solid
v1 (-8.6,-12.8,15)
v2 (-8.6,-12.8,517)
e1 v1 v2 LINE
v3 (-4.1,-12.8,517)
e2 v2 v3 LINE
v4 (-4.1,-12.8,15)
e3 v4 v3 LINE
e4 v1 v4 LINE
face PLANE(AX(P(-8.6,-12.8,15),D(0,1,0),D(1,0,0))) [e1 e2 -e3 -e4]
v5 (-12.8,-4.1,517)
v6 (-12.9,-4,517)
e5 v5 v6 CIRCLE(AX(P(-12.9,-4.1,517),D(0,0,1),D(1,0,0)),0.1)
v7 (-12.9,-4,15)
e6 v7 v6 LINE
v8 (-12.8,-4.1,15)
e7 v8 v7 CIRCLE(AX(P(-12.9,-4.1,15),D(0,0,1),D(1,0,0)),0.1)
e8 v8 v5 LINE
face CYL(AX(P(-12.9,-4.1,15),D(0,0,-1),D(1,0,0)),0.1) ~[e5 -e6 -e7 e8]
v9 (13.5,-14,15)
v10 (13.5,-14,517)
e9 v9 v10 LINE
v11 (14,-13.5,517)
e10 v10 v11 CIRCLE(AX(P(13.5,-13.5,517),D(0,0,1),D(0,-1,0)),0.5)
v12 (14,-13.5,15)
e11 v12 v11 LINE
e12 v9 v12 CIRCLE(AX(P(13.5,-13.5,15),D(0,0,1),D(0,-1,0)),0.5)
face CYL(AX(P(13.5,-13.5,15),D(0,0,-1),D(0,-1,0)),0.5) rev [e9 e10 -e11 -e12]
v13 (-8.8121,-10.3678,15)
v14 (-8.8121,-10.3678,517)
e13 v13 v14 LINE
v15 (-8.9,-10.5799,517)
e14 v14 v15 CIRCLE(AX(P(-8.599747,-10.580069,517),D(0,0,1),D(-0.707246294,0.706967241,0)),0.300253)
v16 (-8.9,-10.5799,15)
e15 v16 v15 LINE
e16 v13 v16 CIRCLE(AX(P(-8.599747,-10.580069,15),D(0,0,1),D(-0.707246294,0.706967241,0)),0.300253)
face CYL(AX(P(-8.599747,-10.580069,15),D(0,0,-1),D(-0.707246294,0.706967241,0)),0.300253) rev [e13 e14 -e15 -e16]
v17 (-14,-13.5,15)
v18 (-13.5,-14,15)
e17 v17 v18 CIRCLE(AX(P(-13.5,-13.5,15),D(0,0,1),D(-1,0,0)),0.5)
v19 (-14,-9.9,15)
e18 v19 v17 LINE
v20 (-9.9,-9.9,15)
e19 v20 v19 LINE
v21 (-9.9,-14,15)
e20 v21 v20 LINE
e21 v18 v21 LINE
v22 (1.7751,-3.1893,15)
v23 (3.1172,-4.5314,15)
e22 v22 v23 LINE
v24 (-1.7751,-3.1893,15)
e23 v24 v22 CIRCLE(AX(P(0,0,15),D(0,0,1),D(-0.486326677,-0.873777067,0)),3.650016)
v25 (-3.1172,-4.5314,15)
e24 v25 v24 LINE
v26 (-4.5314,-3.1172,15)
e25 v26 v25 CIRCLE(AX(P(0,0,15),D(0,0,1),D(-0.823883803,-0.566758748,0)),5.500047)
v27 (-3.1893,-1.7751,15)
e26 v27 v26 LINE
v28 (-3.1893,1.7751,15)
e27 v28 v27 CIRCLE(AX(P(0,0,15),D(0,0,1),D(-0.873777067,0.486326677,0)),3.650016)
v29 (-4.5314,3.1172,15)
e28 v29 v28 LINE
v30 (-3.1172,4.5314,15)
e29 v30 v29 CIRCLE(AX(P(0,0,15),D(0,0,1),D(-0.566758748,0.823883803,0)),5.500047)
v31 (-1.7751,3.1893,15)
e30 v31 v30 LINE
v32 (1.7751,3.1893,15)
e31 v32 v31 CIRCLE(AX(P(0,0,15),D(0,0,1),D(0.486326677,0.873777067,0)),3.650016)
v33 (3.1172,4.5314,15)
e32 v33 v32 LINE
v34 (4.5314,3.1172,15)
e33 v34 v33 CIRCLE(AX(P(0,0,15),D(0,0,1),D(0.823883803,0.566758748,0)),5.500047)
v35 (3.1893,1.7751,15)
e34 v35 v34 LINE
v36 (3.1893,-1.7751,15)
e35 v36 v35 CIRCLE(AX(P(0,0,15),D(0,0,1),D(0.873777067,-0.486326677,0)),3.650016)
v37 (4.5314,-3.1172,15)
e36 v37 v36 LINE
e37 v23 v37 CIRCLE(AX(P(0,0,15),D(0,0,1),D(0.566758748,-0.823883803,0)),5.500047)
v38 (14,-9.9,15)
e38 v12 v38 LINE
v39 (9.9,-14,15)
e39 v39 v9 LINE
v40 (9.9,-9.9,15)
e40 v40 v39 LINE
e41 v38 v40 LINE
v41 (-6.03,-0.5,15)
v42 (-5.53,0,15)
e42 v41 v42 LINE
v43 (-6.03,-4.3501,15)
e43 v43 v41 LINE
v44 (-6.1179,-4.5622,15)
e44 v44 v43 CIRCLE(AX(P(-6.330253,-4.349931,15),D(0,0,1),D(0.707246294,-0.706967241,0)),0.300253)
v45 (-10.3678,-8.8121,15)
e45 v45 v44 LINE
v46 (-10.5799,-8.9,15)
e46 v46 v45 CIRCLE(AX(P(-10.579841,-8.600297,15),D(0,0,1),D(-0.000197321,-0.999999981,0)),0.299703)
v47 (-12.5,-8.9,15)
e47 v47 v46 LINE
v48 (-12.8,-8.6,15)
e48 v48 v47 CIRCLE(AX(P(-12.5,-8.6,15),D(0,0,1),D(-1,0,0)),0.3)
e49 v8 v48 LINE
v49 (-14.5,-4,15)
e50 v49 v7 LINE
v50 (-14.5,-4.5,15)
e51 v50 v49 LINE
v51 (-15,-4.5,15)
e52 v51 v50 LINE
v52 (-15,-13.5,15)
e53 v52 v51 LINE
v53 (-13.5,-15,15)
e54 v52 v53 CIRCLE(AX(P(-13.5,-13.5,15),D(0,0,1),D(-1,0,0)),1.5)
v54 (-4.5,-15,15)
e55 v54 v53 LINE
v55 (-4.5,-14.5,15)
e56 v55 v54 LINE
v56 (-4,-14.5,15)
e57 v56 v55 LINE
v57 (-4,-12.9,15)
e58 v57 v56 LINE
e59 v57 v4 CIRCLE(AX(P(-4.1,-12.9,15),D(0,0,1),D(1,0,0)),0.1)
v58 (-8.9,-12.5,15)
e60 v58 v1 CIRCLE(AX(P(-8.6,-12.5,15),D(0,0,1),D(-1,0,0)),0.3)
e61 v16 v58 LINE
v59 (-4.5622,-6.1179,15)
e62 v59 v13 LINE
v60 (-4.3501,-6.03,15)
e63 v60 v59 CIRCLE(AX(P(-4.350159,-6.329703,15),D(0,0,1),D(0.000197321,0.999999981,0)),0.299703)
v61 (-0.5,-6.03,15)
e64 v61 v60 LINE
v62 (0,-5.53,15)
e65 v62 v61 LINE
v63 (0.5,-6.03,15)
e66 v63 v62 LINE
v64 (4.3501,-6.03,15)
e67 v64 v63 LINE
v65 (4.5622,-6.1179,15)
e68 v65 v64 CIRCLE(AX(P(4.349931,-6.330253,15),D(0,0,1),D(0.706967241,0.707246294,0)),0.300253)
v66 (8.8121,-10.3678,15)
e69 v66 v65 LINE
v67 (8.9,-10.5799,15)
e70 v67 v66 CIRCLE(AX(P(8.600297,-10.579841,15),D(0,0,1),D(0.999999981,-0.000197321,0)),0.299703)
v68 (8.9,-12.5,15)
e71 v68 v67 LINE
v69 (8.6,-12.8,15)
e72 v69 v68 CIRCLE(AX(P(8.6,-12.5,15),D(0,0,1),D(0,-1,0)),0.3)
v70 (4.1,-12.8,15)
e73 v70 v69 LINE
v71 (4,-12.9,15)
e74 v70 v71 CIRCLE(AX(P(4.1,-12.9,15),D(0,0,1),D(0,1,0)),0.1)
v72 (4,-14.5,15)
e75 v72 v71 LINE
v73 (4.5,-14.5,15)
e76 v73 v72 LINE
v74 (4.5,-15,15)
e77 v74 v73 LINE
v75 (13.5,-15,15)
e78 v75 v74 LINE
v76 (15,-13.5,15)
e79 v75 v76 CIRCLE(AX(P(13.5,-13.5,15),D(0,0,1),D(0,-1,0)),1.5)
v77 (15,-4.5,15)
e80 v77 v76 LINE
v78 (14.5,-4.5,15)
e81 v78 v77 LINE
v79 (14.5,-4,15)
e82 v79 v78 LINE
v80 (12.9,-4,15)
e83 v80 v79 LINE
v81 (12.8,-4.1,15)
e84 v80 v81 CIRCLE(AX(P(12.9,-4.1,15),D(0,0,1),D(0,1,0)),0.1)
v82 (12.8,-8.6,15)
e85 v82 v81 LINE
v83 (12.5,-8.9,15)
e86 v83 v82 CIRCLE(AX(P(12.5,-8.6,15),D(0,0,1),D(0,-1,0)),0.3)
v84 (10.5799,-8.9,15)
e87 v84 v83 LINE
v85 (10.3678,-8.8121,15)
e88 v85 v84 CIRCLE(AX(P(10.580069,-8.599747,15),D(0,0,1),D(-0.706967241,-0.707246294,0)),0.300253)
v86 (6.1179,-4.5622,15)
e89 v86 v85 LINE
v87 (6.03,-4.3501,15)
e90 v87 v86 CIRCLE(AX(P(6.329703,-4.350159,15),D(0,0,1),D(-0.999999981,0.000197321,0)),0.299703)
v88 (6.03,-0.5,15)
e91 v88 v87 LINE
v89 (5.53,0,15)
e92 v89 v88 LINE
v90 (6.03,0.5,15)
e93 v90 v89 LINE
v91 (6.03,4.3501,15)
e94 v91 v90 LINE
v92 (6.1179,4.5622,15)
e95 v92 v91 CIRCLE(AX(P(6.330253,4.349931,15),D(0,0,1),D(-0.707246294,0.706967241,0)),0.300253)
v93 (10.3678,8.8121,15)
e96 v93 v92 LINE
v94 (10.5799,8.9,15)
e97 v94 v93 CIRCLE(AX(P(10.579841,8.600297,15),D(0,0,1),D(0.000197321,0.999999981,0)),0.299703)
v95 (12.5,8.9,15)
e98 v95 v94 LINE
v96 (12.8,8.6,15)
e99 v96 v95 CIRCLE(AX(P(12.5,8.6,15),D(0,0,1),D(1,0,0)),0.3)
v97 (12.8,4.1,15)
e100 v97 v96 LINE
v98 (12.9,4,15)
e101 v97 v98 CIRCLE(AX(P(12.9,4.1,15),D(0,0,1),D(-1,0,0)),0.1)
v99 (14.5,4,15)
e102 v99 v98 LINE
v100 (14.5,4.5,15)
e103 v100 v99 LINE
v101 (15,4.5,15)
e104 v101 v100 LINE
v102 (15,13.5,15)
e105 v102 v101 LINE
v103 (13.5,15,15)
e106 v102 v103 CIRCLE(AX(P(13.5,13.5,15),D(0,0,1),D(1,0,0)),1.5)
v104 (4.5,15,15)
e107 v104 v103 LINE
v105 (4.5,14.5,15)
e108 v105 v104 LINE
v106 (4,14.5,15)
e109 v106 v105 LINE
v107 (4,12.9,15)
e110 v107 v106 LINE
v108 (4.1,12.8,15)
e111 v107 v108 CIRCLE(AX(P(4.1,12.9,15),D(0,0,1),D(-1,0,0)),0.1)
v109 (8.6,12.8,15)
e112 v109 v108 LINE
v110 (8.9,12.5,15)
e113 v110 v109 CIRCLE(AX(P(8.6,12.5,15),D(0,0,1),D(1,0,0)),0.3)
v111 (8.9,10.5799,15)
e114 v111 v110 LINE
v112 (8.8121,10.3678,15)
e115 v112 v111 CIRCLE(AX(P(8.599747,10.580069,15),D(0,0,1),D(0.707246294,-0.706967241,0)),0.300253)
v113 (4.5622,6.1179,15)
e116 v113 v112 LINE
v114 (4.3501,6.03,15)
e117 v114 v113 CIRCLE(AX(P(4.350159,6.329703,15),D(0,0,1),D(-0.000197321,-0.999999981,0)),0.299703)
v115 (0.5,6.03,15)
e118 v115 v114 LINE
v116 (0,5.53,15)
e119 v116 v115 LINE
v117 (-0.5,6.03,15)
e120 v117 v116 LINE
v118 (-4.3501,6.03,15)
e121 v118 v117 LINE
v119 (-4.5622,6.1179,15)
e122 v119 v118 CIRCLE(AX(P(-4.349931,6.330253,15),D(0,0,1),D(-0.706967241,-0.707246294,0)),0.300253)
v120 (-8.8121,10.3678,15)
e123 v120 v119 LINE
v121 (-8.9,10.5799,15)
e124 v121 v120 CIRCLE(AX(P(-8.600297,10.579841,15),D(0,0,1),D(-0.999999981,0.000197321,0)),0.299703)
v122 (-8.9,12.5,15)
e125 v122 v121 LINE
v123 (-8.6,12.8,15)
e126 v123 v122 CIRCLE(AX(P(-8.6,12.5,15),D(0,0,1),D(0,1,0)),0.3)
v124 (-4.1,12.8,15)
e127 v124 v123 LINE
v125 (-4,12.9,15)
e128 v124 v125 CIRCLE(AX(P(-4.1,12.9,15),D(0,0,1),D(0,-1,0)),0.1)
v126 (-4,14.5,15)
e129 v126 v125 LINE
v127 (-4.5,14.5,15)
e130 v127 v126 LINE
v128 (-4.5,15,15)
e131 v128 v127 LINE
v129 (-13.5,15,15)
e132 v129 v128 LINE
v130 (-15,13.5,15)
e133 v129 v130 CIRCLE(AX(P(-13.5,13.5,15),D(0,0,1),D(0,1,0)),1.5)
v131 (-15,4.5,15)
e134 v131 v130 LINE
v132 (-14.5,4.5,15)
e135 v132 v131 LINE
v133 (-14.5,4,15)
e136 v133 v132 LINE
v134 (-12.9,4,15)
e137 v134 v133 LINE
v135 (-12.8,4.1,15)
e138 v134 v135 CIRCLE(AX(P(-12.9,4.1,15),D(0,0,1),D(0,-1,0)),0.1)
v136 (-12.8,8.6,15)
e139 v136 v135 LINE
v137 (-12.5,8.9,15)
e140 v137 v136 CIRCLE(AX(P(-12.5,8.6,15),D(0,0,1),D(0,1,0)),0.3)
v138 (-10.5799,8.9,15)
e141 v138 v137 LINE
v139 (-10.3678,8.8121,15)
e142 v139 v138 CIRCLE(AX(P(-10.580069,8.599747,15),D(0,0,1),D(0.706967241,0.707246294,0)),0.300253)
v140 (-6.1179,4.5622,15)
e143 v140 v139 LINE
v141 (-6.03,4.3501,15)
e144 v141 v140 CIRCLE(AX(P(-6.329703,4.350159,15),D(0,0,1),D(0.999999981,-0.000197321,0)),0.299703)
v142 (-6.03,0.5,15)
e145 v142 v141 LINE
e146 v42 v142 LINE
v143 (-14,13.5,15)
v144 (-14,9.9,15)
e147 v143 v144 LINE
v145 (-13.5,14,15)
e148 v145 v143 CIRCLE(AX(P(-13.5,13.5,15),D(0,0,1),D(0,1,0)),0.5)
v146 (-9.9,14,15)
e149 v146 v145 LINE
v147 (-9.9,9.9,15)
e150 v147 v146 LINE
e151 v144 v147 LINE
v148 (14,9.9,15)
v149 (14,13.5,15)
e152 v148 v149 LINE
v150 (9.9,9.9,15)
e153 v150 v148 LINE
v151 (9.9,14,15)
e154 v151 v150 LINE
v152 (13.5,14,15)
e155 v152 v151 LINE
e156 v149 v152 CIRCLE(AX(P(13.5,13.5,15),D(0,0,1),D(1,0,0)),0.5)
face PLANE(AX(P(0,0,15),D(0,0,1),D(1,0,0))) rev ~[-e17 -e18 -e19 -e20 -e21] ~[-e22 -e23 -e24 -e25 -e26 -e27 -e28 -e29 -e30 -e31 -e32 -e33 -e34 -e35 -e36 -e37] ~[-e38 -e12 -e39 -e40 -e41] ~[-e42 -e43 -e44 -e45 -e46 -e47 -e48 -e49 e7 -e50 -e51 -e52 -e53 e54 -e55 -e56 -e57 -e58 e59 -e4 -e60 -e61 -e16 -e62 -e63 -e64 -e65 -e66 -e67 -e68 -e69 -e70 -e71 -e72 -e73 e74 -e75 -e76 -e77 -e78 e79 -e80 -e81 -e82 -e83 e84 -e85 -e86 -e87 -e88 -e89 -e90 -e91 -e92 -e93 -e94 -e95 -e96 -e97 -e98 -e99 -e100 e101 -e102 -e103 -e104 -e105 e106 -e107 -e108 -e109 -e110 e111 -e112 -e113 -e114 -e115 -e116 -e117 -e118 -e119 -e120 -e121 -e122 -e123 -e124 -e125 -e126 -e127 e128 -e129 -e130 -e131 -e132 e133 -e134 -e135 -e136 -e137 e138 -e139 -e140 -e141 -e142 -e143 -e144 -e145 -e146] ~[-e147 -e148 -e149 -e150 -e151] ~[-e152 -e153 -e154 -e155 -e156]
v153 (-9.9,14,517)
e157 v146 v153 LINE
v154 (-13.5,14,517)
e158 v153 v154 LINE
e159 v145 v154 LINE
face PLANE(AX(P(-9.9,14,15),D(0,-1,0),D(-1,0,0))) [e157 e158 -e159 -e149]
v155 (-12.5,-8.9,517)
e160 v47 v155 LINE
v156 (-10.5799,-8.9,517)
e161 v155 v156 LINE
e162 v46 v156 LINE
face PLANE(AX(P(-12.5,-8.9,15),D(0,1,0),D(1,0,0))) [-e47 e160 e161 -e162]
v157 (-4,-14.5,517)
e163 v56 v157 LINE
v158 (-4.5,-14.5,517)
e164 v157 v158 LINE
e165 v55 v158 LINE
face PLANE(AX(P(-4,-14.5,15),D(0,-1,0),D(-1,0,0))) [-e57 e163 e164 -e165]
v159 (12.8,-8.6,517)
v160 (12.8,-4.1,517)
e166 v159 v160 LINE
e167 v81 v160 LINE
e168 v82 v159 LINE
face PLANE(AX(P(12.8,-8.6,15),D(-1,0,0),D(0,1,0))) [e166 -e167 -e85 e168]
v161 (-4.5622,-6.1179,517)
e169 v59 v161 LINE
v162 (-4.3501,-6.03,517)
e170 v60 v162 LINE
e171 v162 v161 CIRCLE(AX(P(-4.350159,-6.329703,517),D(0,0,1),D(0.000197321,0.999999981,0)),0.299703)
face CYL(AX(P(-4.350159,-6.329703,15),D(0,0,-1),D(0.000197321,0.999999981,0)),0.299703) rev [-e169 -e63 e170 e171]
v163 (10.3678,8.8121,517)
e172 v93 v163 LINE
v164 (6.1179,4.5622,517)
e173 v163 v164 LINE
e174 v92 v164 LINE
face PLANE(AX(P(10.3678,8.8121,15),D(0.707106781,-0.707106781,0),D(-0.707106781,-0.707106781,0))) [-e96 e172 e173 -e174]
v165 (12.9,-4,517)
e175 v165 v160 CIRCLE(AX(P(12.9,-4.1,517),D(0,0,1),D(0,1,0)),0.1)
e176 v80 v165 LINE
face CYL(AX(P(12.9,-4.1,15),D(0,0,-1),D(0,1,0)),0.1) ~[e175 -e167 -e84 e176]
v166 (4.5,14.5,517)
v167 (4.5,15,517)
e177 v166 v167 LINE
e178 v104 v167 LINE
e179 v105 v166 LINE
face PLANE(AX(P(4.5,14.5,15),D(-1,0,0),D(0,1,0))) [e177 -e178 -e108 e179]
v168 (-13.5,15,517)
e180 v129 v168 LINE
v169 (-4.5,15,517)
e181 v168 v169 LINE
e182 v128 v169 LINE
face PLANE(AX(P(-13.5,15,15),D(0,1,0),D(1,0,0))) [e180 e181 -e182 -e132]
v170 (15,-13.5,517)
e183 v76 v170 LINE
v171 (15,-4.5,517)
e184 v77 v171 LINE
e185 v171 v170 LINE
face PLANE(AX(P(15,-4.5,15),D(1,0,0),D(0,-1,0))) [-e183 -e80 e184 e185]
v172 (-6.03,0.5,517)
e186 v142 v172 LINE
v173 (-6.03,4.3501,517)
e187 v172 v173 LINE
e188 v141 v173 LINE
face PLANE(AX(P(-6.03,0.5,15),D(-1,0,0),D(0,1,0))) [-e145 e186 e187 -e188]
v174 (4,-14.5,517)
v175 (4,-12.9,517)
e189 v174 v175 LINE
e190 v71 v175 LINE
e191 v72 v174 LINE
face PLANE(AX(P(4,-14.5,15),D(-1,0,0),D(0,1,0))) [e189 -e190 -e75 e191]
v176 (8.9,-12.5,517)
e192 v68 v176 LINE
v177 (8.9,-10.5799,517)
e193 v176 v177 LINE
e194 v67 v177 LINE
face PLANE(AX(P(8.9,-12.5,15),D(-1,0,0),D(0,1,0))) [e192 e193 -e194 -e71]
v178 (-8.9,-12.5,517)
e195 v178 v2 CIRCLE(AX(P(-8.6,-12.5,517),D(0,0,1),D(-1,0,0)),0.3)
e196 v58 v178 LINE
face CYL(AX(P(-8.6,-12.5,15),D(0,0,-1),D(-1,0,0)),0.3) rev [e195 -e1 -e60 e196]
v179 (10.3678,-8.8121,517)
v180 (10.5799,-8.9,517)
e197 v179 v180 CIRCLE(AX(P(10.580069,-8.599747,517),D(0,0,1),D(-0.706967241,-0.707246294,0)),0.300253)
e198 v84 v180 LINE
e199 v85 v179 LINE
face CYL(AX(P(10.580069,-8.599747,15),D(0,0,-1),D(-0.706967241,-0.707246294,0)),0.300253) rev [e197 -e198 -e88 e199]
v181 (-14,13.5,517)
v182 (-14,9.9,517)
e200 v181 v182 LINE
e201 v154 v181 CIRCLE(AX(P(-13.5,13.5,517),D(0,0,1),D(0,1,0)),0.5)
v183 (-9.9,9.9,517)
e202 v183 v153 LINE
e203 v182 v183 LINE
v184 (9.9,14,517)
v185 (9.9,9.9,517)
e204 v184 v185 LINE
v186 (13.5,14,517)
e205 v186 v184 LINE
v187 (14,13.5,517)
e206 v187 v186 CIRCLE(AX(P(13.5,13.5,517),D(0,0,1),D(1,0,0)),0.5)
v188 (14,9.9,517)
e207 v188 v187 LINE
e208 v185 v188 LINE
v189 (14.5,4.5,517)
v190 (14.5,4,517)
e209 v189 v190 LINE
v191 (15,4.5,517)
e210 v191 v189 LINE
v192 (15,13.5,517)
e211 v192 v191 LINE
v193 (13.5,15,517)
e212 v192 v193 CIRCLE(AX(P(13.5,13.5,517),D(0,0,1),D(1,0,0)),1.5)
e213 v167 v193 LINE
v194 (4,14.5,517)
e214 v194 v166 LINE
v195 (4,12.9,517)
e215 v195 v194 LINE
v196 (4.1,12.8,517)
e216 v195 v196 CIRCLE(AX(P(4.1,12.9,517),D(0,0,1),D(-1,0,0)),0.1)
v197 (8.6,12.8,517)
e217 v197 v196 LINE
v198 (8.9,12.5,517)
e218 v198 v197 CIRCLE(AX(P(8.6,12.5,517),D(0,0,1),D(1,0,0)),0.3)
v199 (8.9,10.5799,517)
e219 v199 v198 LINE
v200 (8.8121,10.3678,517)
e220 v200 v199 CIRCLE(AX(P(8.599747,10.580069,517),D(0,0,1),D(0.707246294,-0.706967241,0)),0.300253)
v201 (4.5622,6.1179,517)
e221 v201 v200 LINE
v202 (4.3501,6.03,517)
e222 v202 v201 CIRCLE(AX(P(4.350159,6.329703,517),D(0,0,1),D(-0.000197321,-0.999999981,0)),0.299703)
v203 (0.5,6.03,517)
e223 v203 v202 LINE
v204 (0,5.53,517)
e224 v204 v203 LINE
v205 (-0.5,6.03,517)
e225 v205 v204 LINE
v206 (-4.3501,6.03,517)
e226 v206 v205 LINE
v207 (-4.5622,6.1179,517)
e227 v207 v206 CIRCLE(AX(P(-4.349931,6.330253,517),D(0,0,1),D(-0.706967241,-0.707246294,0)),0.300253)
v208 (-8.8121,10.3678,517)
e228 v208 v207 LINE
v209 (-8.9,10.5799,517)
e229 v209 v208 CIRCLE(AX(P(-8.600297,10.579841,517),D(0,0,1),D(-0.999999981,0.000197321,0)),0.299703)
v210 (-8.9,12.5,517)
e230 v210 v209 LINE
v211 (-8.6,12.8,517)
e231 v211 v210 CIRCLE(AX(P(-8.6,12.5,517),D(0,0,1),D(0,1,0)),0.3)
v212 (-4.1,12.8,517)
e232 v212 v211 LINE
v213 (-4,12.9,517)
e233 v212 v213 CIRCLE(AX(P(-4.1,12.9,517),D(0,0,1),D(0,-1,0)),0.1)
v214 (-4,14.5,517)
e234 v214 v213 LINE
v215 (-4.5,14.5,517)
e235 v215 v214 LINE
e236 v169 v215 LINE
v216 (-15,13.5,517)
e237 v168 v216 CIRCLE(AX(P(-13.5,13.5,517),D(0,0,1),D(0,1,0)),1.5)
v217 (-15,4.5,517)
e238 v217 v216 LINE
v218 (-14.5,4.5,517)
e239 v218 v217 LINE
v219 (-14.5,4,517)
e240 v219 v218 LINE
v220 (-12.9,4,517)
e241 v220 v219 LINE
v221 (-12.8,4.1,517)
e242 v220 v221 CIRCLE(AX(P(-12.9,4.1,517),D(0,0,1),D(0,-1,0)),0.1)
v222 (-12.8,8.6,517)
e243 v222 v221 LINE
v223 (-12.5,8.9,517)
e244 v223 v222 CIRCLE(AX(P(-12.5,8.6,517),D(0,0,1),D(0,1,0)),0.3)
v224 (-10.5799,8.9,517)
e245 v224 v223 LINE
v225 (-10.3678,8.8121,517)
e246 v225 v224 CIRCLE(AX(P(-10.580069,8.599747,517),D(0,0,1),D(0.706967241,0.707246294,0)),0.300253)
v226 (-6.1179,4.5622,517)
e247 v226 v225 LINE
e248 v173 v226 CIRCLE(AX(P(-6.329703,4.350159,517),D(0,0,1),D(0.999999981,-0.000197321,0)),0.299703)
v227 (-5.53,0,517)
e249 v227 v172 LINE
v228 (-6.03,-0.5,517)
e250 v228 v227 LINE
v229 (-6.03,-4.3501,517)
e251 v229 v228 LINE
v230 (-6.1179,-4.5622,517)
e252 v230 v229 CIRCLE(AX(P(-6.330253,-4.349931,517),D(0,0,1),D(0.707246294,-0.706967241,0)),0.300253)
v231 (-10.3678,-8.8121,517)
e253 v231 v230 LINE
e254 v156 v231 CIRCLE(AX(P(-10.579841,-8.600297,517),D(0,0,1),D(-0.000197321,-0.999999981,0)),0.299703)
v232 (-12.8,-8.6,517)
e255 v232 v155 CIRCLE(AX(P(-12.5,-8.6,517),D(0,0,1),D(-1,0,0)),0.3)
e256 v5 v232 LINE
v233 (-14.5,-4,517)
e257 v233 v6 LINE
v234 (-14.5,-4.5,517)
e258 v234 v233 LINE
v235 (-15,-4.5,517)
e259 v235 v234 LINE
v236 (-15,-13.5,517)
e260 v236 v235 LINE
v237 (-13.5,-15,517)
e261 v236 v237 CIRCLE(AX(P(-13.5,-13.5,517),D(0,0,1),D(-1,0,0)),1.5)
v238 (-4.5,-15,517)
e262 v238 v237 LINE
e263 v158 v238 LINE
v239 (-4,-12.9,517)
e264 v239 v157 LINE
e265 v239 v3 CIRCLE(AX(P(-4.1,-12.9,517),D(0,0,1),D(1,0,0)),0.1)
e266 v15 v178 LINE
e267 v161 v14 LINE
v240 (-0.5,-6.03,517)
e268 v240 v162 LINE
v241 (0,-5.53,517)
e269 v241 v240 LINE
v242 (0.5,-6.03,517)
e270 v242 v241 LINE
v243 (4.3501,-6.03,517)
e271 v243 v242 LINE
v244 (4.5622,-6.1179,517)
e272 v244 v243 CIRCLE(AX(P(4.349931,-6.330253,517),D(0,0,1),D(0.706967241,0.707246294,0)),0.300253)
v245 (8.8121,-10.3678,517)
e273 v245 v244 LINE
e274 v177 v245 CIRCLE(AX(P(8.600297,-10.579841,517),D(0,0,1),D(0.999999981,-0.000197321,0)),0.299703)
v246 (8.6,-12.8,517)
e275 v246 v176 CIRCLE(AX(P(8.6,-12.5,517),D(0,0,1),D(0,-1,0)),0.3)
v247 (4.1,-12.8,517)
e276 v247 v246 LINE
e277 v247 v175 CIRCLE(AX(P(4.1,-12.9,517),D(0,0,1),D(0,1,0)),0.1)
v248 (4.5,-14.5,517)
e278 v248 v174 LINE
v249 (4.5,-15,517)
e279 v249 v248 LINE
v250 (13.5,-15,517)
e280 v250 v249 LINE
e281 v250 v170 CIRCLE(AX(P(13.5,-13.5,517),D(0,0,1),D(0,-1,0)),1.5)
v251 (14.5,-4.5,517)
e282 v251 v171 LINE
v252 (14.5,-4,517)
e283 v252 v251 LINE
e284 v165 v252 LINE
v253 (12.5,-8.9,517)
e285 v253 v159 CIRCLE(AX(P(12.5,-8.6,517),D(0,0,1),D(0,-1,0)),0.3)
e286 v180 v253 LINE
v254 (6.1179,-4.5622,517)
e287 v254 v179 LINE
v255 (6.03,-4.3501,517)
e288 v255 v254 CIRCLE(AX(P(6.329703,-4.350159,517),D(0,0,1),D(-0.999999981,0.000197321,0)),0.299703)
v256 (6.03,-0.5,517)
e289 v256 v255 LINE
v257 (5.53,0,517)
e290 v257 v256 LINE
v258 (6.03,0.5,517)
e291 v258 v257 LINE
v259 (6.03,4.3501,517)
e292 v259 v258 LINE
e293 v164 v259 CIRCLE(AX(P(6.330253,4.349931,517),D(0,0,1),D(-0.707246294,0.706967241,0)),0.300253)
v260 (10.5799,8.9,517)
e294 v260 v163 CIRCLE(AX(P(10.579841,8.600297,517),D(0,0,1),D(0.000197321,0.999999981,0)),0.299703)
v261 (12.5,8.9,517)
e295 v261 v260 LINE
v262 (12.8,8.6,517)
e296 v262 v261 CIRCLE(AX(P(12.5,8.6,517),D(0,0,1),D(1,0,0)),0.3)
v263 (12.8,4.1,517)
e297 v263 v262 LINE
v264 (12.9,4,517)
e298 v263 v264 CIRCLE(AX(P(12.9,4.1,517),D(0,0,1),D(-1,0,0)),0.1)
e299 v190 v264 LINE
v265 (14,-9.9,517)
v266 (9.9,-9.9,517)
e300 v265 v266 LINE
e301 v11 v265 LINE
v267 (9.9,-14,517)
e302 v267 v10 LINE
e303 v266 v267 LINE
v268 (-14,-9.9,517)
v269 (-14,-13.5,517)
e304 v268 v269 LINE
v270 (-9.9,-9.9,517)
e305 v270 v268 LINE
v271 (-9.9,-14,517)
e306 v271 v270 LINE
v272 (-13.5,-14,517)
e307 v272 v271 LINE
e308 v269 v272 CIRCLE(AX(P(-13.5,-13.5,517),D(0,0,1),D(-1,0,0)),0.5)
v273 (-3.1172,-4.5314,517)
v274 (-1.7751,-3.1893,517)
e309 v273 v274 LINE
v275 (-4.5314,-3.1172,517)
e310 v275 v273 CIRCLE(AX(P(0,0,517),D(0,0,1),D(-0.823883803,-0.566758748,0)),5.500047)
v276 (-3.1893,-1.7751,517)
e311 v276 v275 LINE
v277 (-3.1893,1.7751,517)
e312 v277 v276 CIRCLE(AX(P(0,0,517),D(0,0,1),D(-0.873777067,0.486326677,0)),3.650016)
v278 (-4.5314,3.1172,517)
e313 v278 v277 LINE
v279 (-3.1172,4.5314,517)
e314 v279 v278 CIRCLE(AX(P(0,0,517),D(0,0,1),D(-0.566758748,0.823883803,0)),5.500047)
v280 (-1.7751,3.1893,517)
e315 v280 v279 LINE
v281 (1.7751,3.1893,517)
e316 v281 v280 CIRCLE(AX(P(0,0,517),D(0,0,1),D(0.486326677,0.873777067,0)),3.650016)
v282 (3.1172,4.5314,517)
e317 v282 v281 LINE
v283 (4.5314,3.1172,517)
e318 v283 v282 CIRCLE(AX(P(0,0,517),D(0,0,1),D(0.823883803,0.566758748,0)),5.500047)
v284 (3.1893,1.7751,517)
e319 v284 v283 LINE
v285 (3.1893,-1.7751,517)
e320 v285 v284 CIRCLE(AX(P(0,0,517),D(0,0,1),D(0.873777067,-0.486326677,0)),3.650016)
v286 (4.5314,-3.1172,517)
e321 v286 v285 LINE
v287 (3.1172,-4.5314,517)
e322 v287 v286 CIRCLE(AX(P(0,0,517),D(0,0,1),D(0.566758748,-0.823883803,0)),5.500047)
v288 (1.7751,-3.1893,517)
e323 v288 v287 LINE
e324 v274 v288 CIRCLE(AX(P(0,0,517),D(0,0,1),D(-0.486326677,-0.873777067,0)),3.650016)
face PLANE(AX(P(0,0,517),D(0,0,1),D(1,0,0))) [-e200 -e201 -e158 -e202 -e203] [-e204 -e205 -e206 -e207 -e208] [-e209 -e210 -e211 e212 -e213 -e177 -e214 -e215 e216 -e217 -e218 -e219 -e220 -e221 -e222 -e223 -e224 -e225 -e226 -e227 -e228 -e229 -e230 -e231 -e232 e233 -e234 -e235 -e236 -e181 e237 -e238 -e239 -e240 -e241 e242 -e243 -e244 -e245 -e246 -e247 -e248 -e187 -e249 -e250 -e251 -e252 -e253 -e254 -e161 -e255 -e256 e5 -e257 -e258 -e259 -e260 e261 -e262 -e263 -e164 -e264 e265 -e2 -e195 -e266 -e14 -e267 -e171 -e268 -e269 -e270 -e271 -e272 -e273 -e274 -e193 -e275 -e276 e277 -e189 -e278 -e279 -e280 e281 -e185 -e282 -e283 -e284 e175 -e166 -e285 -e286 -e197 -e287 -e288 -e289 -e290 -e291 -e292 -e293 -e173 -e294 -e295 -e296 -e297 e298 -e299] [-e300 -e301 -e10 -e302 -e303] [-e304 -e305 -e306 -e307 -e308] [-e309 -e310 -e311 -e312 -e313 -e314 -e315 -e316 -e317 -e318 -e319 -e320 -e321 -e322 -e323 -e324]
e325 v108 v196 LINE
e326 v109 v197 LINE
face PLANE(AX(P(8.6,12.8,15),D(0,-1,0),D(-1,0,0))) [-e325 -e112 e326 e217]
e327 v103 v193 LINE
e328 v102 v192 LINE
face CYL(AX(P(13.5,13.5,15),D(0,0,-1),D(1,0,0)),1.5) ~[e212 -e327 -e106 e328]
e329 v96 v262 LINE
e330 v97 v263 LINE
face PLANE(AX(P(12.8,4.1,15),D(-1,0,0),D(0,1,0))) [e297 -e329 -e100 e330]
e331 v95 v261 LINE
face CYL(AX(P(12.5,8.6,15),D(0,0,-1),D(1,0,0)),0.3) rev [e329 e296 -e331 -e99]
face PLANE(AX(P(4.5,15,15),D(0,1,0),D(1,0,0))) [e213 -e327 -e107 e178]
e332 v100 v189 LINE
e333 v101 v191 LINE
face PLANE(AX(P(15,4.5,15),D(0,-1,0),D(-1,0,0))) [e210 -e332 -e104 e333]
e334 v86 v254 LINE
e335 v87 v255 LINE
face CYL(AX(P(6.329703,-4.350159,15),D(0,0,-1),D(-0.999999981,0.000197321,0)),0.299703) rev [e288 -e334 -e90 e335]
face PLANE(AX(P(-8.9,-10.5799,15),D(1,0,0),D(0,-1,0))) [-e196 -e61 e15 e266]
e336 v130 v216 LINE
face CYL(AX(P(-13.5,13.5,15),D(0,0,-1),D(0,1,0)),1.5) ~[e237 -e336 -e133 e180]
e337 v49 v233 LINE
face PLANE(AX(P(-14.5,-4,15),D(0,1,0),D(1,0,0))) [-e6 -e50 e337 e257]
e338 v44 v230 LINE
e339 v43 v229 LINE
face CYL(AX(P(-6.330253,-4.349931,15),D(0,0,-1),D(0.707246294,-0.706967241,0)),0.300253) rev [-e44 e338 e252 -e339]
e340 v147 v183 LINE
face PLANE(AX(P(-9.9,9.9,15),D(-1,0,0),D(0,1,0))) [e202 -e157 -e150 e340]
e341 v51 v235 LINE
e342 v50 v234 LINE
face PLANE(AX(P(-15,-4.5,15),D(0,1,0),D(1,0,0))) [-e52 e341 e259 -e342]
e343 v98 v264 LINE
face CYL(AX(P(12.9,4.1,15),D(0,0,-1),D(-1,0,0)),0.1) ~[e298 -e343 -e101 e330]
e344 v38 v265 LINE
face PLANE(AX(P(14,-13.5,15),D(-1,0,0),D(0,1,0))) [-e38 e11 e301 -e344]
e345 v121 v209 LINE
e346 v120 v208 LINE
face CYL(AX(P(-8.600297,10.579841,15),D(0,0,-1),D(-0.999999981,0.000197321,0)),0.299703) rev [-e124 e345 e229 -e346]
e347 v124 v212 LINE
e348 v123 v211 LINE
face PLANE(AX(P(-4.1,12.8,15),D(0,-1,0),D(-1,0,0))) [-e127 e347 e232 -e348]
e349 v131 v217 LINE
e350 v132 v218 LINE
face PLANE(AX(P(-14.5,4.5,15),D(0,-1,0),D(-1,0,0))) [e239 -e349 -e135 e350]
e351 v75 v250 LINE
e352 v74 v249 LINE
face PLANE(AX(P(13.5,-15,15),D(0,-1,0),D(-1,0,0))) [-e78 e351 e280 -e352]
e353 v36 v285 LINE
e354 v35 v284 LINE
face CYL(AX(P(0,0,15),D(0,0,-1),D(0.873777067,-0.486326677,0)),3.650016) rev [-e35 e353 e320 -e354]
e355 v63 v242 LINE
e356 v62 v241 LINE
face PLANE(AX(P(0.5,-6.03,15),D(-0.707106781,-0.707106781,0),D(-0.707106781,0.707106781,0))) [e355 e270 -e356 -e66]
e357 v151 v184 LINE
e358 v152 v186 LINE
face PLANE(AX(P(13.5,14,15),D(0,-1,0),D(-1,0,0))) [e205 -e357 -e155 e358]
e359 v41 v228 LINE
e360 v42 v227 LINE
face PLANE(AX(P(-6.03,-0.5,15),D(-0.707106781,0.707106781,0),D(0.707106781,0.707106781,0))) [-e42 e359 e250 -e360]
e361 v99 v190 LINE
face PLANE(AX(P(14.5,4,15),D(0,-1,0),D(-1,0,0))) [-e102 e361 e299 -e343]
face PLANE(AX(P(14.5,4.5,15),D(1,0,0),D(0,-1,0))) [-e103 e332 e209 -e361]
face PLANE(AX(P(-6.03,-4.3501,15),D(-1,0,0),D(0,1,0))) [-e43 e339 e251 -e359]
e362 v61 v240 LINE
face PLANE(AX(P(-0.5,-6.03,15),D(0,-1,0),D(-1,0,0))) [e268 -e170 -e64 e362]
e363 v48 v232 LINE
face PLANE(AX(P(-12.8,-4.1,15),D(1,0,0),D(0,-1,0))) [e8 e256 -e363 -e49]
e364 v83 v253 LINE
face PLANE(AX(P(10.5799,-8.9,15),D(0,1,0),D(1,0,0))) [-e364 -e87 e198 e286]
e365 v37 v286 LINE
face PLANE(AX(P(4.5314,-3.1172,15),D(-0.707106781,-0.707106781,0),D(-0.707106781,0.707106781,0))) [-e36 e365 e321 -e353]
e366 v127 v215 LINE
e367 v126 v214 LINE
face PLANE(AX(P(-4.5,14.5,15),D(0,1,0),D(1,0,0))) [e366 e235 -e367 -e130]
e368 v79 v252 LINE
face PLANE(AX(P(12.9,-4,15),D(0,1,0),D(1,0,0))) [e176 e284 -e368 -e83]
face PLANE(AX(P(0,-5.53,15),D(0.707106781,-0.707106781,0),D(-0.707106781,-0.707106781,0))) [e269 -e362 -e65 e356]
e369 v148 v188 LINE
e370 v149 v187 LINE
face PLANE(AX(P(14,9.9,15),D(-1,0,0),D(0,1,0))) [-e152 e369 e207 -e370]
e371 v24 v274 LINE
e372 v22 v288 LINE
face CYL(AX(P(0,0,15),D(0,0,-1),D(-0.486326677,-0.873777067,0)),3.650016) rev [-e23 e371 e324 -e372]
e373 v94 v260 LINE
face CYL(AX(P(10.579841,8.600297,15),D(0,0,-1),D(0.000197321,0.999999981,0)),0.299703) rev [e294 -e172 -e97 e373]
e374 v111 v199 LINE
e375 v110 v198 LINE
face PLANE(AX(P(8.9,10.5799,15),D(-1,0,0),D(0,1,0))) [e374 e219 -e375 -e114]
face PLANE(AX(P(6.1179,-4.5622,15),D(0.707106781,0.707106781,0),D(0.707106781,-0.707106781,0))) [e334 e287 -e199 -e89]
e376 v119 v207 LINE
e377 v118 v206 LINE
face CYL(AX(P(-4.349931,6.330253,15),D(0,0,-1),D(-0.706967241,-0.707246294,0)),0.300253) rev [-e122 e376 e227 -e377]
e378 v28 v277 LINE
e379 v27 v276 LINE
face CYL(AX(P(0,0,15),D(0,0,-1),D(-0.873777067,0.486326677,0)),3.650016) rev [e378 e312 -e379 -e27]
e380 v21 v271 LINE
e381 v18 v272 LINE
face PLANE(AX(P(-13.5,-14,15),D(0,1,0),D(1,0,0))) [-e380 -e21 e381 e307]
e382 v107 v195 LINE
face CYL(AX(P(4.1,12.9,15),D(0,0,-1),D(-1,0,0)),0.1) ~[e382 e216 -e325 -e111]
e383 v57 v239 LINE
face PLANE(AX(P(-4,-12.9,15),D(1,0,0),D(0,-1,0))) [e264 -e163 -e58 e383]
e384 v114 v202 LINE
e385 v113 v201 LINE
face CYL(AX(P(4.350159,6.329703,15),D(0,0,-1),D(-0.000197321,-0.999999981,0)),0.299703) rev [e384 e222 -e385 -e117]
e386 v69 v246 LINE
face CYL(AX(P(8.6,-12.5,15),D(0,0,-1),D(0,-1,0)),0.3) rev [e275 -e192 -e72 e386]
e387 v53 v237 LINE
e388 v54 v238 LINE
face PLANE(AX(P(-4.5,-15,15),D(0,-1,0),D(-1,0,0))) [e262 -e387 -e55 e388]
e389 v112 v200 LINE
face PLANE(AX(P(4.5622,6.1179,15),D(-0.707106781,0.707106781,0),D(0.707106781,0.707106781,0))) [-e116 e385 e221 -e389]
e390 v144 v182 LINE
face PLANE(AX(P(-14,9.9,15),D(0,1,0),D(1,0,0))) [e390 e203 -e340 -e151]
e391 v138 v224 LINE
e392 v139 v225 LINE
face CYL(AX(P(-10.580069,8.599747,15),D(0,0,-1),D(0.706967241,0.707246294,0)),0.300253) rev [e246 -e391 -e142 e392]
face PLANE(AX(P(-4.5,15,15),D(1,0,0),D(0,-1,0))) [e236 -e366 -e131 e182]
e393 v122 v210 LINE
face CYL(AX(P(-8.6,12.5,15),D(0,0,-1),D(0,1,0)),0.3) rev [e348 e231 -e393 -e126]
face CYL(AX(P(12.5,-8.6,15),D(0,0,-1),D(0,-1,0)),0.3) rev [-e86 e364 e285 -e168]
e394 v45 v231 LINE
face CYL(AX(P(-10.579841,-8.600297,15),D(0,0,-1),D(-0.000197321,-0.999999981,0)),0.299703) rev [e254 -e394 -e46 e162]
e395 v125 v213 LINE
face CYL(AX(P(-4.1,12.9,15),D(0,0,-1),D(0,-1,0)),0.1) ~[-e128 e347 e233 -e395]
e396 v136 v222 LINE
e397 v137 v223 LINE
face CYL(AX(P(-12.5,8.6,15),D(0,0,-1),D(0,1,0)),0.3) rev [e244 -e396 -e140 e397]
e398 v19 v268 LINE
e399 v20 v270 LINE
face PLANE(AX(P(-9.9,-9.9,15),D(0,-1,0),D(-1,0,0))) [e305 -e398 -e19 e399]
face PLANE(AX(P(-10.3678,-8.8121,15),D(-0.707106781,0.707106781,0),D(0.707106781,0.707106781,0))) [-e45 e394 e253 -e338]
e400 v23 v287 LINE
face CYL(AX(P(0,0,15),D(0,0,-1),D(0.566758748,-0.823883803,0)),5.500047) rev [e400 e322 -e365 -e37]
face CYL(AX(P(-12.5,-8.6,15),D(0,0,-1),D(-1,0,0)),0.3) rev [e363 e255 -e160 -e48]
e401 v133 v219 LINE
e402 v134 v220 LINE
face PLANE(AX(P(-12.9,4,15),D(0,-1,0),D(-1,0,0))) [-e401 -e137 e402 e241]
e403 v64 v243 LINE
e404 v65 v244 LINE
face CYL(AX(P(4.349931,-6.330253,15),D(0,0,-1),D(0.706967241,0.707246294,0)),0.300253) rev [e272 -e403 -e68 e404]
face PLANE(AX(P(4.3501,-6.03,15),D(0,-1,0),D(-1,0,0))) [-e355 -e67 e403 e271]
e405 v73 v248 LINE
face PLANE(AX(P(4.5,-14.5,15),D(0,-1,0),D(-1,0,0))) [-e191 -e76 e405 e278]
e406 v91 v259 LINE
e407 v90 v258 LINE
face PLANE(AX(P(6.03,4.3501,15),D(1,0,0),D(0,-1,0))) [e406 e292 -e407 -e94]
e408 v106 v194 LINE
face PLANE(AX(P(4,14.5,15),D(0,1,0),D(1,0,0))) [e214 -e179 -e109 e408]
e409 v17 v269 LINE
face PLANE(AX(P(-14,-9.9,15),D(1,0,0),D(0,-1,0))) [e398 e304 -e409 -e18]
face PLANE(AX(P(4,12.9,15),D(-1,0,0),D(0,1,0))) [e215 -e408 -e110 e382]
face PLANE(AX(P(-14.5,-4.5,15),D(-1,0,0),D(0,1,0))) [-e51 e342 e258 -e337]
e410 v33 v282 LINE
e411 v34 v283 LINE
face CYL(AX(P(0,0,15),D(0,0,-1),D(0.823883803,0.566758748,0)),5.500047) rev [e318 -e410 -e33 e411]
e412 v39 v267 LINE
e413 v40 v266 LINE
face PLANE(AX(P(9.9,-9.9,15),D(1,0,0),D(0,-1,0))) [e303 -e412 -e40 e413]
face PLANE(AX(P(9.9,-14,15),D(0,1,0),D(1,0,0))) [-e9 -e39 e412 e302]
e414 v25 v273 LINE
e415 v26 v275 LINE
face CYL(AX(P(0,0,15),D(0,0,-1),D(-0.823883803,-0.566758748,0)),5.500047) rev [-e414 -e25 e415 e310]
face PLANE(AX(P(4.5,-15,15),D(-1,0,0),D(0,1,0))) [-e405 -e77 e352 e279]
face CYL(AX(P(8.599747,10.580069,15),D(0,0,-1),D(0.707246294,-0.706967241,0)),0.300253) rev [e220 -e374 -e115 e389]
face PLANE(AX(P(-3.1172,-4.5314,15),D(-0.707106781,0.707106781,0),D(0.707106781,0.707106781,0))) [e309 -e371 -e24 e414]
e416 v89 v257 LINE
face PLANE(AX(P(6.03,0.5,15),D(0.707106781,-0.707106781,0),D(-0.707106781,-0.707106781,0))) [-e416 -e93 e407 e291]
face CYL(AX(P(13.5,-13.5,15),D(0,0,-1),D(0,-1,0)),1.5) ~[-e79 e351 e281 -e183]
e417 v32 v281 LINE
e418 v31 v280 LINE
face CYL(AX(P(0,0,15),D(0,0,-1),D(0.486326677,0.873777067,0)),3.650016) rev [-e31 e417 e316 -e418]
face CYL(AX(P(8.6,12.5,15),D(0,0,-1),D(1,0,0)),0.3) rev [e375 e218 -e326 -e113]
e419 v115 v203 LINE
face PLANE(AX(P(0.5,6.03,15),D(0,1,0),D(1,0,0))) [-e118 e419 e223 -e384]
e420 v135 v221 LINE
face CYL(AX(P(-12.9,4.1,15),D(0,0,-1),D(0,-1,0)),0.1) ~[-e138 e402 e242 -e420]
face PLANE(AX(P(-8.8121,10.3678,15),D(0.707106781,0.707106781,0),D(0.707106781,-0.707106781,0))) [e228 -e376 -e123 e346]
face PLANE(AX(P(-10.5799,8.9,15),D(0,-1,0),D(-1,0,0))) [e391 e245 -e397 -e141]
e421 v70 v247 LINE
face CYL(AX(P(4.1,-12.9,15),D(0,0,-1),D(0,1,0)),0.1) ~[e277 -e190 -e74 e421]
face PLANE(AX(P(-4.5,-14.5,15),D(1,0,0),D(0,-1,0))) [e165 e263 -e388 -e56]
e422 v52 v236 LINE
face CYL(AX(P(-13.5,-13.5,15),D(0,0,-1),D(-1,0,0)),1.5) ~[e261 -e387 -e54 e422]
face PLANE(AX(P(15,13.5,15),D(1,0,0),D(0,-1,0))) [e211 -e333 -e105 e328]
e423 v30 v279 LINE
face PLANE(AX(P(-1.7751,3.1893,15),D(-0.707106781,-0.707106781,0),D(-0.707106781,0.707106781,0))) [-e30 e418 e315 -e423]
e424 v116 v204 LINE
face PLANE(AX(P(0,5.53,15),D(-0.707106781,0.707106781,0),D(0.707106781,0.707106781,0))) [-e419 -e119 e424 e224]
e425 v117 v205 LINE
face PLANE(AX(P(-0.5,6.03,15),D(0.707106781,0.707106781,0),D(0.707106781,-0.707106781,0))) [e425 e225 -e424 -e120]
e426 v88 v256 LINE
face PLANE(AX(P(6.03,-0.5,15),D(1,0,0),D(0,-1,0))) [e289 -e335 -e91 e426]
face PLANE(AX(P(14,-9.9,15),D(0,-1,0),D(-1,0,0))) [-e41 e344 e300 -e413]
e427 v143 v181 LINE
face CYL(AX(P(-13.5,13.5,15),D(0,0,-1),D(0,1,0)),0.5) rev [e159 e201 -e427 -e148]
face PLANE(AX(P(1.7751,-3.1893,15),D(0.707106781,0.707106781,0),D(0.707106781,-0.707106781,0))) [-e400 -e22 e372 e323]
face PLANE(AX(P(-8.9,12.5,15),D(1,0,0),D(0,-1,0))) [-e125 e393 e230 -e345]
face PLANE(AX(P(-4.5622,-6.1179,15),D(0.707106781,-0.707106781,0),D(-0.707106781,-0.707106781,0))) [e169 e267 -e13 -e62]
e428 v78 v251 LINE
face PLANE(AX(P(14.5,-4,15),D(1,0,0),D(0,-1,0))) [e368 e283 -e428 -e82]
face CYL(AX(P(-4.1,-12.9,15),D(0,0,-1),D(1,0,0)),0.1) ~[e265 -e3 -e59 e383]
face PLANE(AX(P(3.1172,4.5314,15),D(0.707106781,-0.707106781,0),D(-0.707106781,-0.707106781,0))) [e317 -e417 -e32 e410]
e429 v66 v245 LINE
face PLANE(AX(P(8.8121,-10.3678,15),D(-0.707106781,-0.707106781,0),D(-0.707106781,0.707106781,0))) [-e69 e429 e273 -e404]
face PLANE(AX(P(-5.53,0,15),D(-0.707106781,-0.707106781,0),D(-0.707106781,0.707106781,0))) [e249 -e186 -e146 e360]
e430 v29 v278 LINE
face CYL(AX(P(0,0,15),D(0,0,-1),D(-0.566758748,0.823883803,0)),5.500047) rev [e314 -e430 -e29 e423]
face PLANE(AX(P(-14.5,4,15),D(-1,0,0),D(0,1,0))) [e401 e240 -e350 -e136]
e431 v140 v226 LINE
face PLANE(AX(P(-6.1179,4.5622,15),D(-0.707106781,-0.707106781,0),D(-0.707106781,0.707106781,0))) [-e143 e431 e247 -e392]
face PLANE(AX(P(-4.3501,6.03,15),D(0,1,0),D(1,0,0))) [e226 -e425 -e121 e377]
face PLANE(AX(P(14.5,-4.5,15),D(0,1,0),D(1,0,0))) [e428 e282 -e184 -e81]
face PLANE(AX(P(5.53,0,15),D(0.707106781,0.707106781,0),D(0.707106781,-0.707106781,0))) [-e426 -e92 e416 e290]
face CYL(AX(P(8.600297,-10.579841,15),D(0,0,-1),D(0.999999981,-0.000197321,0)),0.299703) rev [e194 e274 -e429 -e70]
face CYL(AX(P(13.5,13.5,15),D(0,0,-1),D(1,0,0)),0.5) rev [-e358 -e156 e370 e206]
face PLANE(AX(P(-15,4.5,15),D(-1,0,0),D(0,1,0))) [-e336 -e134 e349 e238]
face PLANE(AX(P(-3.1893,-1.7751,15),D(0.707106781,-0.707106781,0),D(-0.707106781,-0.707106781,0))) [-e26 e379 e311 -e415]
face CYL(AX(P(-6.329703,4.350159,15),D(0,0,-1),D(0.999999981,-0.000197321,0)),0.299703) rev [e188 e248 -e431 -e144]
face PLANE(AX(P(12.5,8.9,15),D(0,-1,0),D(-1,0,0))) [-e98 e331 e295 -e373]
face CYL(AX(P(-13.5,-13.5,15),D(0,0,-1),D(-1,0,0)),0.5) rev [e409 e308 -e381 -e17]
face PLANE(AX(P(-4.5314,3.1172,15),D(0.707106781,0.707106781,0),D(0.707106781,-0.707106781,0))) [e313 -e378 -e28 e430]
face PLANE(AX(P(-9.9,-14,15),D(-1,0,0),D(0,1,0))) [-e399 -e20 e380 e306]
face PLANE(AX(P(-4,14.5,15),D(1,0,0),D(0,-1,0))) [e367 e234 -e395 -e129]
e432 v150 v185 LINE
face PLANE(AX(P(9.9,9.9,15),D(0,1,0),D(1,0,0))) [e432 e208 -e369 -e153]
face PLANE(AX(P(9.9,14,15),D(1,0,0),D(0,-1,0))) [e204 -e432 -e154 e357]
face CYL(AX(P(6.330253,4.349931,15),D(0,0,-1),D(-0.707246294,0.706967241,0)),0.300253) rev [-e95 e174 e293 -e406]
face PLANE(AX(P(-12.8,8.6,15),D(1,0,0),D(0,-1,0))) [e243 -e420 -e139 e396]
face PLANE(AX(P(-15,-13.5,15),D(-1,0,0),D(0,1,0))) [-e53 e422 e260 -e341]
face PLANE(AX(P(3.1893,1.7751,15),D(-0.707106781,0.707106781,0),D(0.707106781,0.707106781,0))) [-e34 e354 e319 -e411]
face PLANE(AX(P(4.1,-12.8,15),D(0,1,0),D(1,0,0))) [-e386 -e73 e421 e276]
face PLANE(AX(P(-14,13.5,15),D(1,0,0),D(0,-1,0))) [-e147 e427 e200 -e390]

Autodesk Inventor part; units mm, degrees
ref_plane "Płaszczyzna początkowa" through (0, 0, 15) normal (0, 0, 1) x (1, 0, 0)
ref_plane "Płaszczyzna końcowa" through (0, 0, 517) normal (0, 0, 1) x (1, 0, 0)
sketch "Szkic" plane through (0, 0, 0) normal (0, 0, 1) x (1, 0, 0)
  line L0 (1.7751, -3.1893) -> (3.1172, -4.5314)
  arc A0 (-1.7751, -3.1893) -> (1.7751, -3.1893) centre (0, 0) ccw
  line L1 (-3.1172, -4.5314) -> (-1.7751, -3.1893)
  arc A1 (-4.5314, -3.1172) -> (-3.1172, -4.5314) centre (0, 0) ccw
  line L2 (-3.1893, -1.7751) -> (-4.5314, -3.1172)
  arc A2 (-3.1893, 1.7751) -> (-3.1893, -1.7751) centre (0, 0) ccw
  line L3 (-4.5314, 3.1172) -> (-3.1893, 1.7751)
  arc A3 (-3.1172, 4.5314) -> (-4.5314, 3.1172) centre (0, 0) ccw
  line L4 (-1.7751, 3.1893) -> (-3.1172, 4.5314)
  arc A4 (1.7751, 3.1893) -> (-1.7751, 3.1893) centre (0, 0) ccw
  line L5 (3.1172, 4.5314) -> (1.7751, 3.1893)
  arc A5 (4.5314, 3.1172) -> (3.1172, 4.5314) centre (0, 0) ccw
  line L6 (3.1893, 1.7751) -> (4.5314, 3.1172)
  arc A6 (3.1893, -1.7751) -> (3.1893, 1.7751) centre (0, 0) ccw
  line L7 (4.5314, -3.1172) -> (3.1893, -1.7751)
  arc A7 (3.1172, -4.5314) -> (4.5314, -3.1172) centre (0, 0) ccw
  line L8 (14, -13.5) -> (14, -9.9)
  arc A8 (13.5, -14) -> (14, -13.5) centre (13.5, -13.5) ccw
  line L9 (9.9, -14) -> (13.5, -14)
  line L10 (9.9, -9.9) -> (9.9, -14)
  line L11 (14, -9.9) -> (9.9, -9.9)
  line L12 (-9.9, -9.9) -> (-14, -9.9)
  line L13 (-9.9, -14) -> (-9.9, -9.9)
  line L14 (-13.5, -14) -> (-9.9, -14)
  arc A9 (-14, -13.5) -> (-13.5, -14) centre (-13.5, -13.5) ccw
  line L15 (-14, -9.9) -> (-14, -13.5)
  line L16 (14, 9.9) -> (14, 13.5)
  line L17 (9.9, 9.9) -> (14, 9.9)
  line L18 (9.9, 14) -> (9.9, 9.9)
  line L19 (13.5, 14) -> (9.9, 14)
  arc A10 (14, 13.5) -> (13.5, 14) centre (13.5, 13.5) ccw
  line L20 (-14, 9.9) -> (-9.9, 9.9)
  line L21 (-14, 13.5) -> (-14, 9.9)
  arc A11 (-13.5, 14) -> (-14, 13.5) centre (-13.5, 13.5) ccw
  line L22 (-9.9, 14) -> (-13.5, 14)
  line L23 (-9.9, 9.9) -> (-9.9, 14)
  line L24 (13.5, -15) -> (4.5, -15)
  arc A12 (13.5, -15) -> (15, -13.5) centre (13.5, -13.5) ccw
  line L25 (15, -4.5) -> (15, -13.5)
  line L26 (14.5, -4.5) -> (15, -4.5)
  line L27 (14.5, -4) -> (14.5, -4.5)
  line L28 (12.9, -4) -> (14.5, -4)
  arc A13 (12.9, -4) -> (12.8, -4.1) centre (12.9, -4.1) ccw
  line L29 (12.8, -8.6) -> (12.8, -4.1)
  arc A14 (12.5, -8.9) -> (12.8, -8.6) centre (12.5, -8.6) ccw
  line L30 (10.5799, -8.9) -> (12.5, -8.9)
  arc A15 (10.3678, -8.8121) -> (10.5799, -8.9) centre (10.5799, -8.6) ccw
  line L31 (6.1179, -4.5622) -> (10.3678, -8.8121)
  arc A16 (6.03, -4.3501) -> (6.1179, -4.5622) centre (6.33, -4.3501) ccw
  line L32 (6.03, -0.5) -> (6.03, -4.3501)
  line L33 (5.53, 0) -> (6.03, -0.5)
  line L34 (6.03, 0.5) -> (5.53, 0)
  line L35 (6.03, 4.3501) -> (6.03, 0.5)
  arc A17 (6.1179, 4.5622) -> (6.03, 4.3501) centre (6.33, 4.3501) ccw
  line L36 (10.3678, 8.8121) -> (6.1179, 4.5622)
  arc A18 (10.5799, 8.9) -> (10.3678, 8.8121) centre (10.5799, 8.6) ccw
  line L37 (12.5, 8.9) -> (10.5799, 8.9)
  arc A19 (12.8, 8.6) -> (12.5, 8.9) centre (12.5, 8.6) ccw
  line L38 (12.8, 4.1) -> (12.8, 8.6)
  arc A20 (12.8, 4.1) -> (12.9, 4) centre (12.9, 4.1) ccw
  line L39 (14.5, 4) -> (12.9, 4)
  line L40 (14.5, 4.5) -> (14.5, 4)
  line L41 (15, 4.5) -> (14.5, 4.5)
  line L42 (15, 13.5) -> (15, 4.5)
  arc A21 (15, 13.5) -> (13.5, 15) centre (13.5, 13.5) ccw
  line L43 (4.5, 15) -> (13.5, 15)
  line L44 (4.5, 14.5) -> (4.5, 15)
  line L45 (4, 14.5) -> (4.5, 14.5)
  line L46 (4, 12.9) -> (4, 14.5)
  arc A22 (4, 12.9) -> (4.1, 12.8) centre (4.1, 12.9) ccw
  line L47 (8.6, 12.8) -> (4.1, 12.8)
  arc A23 (8.9, 12.5) -> (8.6, 12.8) centre (8.6, 12.5) ccw
  line L48 (8.9, 10.5799) -> (8.9, 12.5)
  arc A24 (8.8121, 10.3678) -> (8.9, 10.5799) centre (8.6, 10.5799) ccw
  line L49 (4.5622, 6.1179) -> (8.8121, 10.3678)
  arc A25 (4.3501, 6.03) -> (4.5622, 6.1179) centre (4.3501, 6.33) ccw
  line L50 (0.5, 6.03) -> (4.3501, 6.03)
  line L51 (0, 5.53) -> (0.5, 6.03)
  line L52 (-0.5, 6.03) -> (0, 5.53)
  line L53 (-4.3501, 6.03) -> (-0.5, 6.03)
  arc A26 (-4.5622, 6.1179) -> (-4.3501, 6.03) centre (-4.3501, 6.33) ccw
  line L54 (-8.8121, 10.3678) -> (-4.5622, 6.1179)
  arc A27 (-8.9, 10.5799) -> (-8.8121, 10.3678) centre (-8.6, 10.5799) ccw
  line L55 (-8.9, 12.5) -> (-8.9, 10.5799)
  arc A28 (-8.6, 12.8) -> (-8.9, 12.5) centre (-8.6, 12.5) ccw
  line L56 (-4.1, 12.8) -> (-8.6, 12.8)
  arc A29 (-4.1, 12.8) -> (-4, 12.9) centre (-4.1, 12.9) ccw
  line L57 (-4, 14.5) -> (-4, 12.9)
  line L58 (-4.5, 14.5) -> (-4, 14.5)
  line L59 (-4.5, 15) -> (-4.5, 14.5)
  line L60 (-13.5, 15) -> (-4.5, 15)
  arc A30 (-13.5, 15) -> (-15, 13.5) centre (-13.5, 13.5) ccw
  line L61 (-15, 4.5) -> (-15, 13.5)
  line L62 (-14.5, 4.5) -> (-15, 4.5)
  line L63 (-14.5, 4) -> (-14.5, 4.5)
  line L64 (-12.9, 4) -> (-14.5, 4)
  arc A31 (-12.9, 4) -> (-12.8, 4.1) centre (-12.9, 4.1) ccw
  line L65 (-12.8, 8.6) -> (-12.8, 4.1)
  arc A32 (-12.5, 8.9) -> (-12.8, 8.6) centre (-12.5, 8.6) ccw
  line L66 (-10.5799, 8.9) -> (-12.5, 8.9)
  arc A33 (-10.3678, 8.8121) -> (-10.5799, 8.9) centre (-10.5799, 8.6) ccw
  line L67 (-6.1179, 4.5622) -> (-10.3678, 8.8121)
  arc A34 (-6.03, 4.3501) -> (-6.1179, 4.5622) centre (-6.33, 4.3501) ccw
  line L68 (-6.03, 0.5) -> (-6.03, 4.3501)
  line L69 (-5.53, 0) -> (-6.03, 0.5)
  line L70 (-6.03, -0.5) -> (-5.53, 0)
  line L71 (-6.03, -4.3501) -> (-6.03, -0.5)
  arc A35 (-6.1179, -4.5622) -> (-6.03, -4.3501) centre (-6.33, -4.3501) ccw
  line L72 (-10.3678, -8.8121) -> (-6.1179, -4.5622)
  arc A36 (-10.5799, -8.9) -> (-10.3678, -8.8121) centre (-10.5799, -8.6) ccw
  line L73 (-12.5, -8.9) -> (-10.5799, -8.9)
  arc A37 (-12.8, -8.6) -> (-12.5, -8.9) centre (-12.5, -8.6) ccw
  line L74 (-12.8, -4.1) -> (-12.8, -8.6)
  arc A38 (-12.8, -4.1) -> (-12.9, -4) centre (-12.9, -4.1) ccw
  line L75 (-14.5, -4) -> (-12.9, -4)
  line L76 (-14.5, -4.5) -> (-14.5, -4)
  line L77 (-15, -4.5) -> (-14.5, -4.5)
  line L78 (-15, -13.5) -> (-15, -4.5)
  arc A39 (-15, -13.5) -> (-13.5, -15) centre (-13.5, -13.5) ccw
  line L79 (-4.5, -15) -> (-13.5, -15)
  line L80 (-4.5, -14.5) -> (-4.5, -15)
  line L81 (-4, -14.5) -> (-4.5, -14.5)
  line L82 (-4, -12.9) -> (-4, -14.5)
  arc A40 (-4, -12.9) -> (-4.1, -12.8) centre (-4.1, -12.9) ccw
  line L83 (-8.6, -12.8) -> (-4.1, -12.8)
  arc A41 (-8.9, -12.5) -> (-8.6, -12.8) centre (-8.6, -12.5) ccw
  line L84 (-8.9, -10.5799) -> (-8.9, -12.5)
  arc A42 (-8.8121, -10.3678) -> (-8.9, -10.5799) centre (-8.6, -10.5799) ccw
  line L85 (-4.5622, -6.1179) -> (-8.8121, -10.3678)
  arc A43 (-4.3501, -6.03) -> (-4.5622, -6.1179) centre (-4.3501, -6.33) ccw
  line L86 (-0.5, -6.03) -> (-4.3501, -6.03)
  line L87 (0, -5.53) -> (-0.5, -6.03)
  line L88 (0.5, -6.03) -> (0, -5.53)
  line L89 (4.3501, -6.03) -> (0.5, -6.03)
  arc A44 (4.5622, -6.1179) -> (4.3501, -6.03) centre (4.3501, -6.33) ccw
  line L90 (8.8121, -10.3678) -> (4.5622, -6.1179)
  arc A45 (8.9, -10.5799) -> (8.8121, -10.3678) centre (8.6, -10.5799) ccw
  line L91 (8.9, -12.5) -> (8.9, -10.5799)
  arc A46 (8.6, -12.8) -> (8.9, -12.5) centre (8.6, -12.5) ccw
  line L92 (4.1, -12.8) -> (8.6, -12.8)
  arc A47 (4.1, -12.8) -> (4, -12.9) centre (4.1, -12.9) ccw
  line L93 (4, -14.5) -> (4, -12.9)
  line L94 (4.5, -14.5) -> (4, -14.5)
  line L95 (4.5, -15) -> (4.5, -14.5)
  point P0 (15, -15)
extrude "Bryła" add sketch "Szkic" along normal up to surface (502 mm away) from surface at 15
sketch "Szkic2" plane through (0, 0, 0) normal (0, 0, 1) x (1, 0, 0)
  line L0 (0, 0) -> (10, 0)
ref_plane "Płaszczyzna konstrukcyjna3" through (0, 0, 0) normal (0, -1, 0) x (1, 0, 0)
sketch "Szkic3" plane through (0, 0, 0) normal (0, -1, 0) x (1, 0, 0)
  line L0 (-2, 15) -> (12, 15)
  line L1 (-2, 517) -> (12, 517)
  dimension "d7" = 502
ref_plane "Płaszczyzna konstrukcyjna4" through (4.5, 105, 517) normal (0, 0, 1) x (1, 0, 0)
split "Podział1" plane through (4.5, 105, 517) removes the side toward (0, 0, 1)
ref_plane "Płaszczyzna konstrukcyjna5" through (4.5, -430, 15) normal (0, 0, -1) x (-1, 0, 0)
split "Podział2" plane through (4.5, -430, 15) removes the side toward (0, 0, -1)
equation "\"G_OFFSET_START\" = -15"
equation "\"G_OFFSET_END\" = -15"
equation "\"d2\" = -G_OFFSET_START"
equation "\"d3\" = Length + G_OFFSET_END"
equation "\"G_L\" = d7"
equation "\"Length\" = 532"
properties part number "COTS_ARMA_AR3703_30x30_Alu_Extr_00000013" material "Aluminium 6061"
